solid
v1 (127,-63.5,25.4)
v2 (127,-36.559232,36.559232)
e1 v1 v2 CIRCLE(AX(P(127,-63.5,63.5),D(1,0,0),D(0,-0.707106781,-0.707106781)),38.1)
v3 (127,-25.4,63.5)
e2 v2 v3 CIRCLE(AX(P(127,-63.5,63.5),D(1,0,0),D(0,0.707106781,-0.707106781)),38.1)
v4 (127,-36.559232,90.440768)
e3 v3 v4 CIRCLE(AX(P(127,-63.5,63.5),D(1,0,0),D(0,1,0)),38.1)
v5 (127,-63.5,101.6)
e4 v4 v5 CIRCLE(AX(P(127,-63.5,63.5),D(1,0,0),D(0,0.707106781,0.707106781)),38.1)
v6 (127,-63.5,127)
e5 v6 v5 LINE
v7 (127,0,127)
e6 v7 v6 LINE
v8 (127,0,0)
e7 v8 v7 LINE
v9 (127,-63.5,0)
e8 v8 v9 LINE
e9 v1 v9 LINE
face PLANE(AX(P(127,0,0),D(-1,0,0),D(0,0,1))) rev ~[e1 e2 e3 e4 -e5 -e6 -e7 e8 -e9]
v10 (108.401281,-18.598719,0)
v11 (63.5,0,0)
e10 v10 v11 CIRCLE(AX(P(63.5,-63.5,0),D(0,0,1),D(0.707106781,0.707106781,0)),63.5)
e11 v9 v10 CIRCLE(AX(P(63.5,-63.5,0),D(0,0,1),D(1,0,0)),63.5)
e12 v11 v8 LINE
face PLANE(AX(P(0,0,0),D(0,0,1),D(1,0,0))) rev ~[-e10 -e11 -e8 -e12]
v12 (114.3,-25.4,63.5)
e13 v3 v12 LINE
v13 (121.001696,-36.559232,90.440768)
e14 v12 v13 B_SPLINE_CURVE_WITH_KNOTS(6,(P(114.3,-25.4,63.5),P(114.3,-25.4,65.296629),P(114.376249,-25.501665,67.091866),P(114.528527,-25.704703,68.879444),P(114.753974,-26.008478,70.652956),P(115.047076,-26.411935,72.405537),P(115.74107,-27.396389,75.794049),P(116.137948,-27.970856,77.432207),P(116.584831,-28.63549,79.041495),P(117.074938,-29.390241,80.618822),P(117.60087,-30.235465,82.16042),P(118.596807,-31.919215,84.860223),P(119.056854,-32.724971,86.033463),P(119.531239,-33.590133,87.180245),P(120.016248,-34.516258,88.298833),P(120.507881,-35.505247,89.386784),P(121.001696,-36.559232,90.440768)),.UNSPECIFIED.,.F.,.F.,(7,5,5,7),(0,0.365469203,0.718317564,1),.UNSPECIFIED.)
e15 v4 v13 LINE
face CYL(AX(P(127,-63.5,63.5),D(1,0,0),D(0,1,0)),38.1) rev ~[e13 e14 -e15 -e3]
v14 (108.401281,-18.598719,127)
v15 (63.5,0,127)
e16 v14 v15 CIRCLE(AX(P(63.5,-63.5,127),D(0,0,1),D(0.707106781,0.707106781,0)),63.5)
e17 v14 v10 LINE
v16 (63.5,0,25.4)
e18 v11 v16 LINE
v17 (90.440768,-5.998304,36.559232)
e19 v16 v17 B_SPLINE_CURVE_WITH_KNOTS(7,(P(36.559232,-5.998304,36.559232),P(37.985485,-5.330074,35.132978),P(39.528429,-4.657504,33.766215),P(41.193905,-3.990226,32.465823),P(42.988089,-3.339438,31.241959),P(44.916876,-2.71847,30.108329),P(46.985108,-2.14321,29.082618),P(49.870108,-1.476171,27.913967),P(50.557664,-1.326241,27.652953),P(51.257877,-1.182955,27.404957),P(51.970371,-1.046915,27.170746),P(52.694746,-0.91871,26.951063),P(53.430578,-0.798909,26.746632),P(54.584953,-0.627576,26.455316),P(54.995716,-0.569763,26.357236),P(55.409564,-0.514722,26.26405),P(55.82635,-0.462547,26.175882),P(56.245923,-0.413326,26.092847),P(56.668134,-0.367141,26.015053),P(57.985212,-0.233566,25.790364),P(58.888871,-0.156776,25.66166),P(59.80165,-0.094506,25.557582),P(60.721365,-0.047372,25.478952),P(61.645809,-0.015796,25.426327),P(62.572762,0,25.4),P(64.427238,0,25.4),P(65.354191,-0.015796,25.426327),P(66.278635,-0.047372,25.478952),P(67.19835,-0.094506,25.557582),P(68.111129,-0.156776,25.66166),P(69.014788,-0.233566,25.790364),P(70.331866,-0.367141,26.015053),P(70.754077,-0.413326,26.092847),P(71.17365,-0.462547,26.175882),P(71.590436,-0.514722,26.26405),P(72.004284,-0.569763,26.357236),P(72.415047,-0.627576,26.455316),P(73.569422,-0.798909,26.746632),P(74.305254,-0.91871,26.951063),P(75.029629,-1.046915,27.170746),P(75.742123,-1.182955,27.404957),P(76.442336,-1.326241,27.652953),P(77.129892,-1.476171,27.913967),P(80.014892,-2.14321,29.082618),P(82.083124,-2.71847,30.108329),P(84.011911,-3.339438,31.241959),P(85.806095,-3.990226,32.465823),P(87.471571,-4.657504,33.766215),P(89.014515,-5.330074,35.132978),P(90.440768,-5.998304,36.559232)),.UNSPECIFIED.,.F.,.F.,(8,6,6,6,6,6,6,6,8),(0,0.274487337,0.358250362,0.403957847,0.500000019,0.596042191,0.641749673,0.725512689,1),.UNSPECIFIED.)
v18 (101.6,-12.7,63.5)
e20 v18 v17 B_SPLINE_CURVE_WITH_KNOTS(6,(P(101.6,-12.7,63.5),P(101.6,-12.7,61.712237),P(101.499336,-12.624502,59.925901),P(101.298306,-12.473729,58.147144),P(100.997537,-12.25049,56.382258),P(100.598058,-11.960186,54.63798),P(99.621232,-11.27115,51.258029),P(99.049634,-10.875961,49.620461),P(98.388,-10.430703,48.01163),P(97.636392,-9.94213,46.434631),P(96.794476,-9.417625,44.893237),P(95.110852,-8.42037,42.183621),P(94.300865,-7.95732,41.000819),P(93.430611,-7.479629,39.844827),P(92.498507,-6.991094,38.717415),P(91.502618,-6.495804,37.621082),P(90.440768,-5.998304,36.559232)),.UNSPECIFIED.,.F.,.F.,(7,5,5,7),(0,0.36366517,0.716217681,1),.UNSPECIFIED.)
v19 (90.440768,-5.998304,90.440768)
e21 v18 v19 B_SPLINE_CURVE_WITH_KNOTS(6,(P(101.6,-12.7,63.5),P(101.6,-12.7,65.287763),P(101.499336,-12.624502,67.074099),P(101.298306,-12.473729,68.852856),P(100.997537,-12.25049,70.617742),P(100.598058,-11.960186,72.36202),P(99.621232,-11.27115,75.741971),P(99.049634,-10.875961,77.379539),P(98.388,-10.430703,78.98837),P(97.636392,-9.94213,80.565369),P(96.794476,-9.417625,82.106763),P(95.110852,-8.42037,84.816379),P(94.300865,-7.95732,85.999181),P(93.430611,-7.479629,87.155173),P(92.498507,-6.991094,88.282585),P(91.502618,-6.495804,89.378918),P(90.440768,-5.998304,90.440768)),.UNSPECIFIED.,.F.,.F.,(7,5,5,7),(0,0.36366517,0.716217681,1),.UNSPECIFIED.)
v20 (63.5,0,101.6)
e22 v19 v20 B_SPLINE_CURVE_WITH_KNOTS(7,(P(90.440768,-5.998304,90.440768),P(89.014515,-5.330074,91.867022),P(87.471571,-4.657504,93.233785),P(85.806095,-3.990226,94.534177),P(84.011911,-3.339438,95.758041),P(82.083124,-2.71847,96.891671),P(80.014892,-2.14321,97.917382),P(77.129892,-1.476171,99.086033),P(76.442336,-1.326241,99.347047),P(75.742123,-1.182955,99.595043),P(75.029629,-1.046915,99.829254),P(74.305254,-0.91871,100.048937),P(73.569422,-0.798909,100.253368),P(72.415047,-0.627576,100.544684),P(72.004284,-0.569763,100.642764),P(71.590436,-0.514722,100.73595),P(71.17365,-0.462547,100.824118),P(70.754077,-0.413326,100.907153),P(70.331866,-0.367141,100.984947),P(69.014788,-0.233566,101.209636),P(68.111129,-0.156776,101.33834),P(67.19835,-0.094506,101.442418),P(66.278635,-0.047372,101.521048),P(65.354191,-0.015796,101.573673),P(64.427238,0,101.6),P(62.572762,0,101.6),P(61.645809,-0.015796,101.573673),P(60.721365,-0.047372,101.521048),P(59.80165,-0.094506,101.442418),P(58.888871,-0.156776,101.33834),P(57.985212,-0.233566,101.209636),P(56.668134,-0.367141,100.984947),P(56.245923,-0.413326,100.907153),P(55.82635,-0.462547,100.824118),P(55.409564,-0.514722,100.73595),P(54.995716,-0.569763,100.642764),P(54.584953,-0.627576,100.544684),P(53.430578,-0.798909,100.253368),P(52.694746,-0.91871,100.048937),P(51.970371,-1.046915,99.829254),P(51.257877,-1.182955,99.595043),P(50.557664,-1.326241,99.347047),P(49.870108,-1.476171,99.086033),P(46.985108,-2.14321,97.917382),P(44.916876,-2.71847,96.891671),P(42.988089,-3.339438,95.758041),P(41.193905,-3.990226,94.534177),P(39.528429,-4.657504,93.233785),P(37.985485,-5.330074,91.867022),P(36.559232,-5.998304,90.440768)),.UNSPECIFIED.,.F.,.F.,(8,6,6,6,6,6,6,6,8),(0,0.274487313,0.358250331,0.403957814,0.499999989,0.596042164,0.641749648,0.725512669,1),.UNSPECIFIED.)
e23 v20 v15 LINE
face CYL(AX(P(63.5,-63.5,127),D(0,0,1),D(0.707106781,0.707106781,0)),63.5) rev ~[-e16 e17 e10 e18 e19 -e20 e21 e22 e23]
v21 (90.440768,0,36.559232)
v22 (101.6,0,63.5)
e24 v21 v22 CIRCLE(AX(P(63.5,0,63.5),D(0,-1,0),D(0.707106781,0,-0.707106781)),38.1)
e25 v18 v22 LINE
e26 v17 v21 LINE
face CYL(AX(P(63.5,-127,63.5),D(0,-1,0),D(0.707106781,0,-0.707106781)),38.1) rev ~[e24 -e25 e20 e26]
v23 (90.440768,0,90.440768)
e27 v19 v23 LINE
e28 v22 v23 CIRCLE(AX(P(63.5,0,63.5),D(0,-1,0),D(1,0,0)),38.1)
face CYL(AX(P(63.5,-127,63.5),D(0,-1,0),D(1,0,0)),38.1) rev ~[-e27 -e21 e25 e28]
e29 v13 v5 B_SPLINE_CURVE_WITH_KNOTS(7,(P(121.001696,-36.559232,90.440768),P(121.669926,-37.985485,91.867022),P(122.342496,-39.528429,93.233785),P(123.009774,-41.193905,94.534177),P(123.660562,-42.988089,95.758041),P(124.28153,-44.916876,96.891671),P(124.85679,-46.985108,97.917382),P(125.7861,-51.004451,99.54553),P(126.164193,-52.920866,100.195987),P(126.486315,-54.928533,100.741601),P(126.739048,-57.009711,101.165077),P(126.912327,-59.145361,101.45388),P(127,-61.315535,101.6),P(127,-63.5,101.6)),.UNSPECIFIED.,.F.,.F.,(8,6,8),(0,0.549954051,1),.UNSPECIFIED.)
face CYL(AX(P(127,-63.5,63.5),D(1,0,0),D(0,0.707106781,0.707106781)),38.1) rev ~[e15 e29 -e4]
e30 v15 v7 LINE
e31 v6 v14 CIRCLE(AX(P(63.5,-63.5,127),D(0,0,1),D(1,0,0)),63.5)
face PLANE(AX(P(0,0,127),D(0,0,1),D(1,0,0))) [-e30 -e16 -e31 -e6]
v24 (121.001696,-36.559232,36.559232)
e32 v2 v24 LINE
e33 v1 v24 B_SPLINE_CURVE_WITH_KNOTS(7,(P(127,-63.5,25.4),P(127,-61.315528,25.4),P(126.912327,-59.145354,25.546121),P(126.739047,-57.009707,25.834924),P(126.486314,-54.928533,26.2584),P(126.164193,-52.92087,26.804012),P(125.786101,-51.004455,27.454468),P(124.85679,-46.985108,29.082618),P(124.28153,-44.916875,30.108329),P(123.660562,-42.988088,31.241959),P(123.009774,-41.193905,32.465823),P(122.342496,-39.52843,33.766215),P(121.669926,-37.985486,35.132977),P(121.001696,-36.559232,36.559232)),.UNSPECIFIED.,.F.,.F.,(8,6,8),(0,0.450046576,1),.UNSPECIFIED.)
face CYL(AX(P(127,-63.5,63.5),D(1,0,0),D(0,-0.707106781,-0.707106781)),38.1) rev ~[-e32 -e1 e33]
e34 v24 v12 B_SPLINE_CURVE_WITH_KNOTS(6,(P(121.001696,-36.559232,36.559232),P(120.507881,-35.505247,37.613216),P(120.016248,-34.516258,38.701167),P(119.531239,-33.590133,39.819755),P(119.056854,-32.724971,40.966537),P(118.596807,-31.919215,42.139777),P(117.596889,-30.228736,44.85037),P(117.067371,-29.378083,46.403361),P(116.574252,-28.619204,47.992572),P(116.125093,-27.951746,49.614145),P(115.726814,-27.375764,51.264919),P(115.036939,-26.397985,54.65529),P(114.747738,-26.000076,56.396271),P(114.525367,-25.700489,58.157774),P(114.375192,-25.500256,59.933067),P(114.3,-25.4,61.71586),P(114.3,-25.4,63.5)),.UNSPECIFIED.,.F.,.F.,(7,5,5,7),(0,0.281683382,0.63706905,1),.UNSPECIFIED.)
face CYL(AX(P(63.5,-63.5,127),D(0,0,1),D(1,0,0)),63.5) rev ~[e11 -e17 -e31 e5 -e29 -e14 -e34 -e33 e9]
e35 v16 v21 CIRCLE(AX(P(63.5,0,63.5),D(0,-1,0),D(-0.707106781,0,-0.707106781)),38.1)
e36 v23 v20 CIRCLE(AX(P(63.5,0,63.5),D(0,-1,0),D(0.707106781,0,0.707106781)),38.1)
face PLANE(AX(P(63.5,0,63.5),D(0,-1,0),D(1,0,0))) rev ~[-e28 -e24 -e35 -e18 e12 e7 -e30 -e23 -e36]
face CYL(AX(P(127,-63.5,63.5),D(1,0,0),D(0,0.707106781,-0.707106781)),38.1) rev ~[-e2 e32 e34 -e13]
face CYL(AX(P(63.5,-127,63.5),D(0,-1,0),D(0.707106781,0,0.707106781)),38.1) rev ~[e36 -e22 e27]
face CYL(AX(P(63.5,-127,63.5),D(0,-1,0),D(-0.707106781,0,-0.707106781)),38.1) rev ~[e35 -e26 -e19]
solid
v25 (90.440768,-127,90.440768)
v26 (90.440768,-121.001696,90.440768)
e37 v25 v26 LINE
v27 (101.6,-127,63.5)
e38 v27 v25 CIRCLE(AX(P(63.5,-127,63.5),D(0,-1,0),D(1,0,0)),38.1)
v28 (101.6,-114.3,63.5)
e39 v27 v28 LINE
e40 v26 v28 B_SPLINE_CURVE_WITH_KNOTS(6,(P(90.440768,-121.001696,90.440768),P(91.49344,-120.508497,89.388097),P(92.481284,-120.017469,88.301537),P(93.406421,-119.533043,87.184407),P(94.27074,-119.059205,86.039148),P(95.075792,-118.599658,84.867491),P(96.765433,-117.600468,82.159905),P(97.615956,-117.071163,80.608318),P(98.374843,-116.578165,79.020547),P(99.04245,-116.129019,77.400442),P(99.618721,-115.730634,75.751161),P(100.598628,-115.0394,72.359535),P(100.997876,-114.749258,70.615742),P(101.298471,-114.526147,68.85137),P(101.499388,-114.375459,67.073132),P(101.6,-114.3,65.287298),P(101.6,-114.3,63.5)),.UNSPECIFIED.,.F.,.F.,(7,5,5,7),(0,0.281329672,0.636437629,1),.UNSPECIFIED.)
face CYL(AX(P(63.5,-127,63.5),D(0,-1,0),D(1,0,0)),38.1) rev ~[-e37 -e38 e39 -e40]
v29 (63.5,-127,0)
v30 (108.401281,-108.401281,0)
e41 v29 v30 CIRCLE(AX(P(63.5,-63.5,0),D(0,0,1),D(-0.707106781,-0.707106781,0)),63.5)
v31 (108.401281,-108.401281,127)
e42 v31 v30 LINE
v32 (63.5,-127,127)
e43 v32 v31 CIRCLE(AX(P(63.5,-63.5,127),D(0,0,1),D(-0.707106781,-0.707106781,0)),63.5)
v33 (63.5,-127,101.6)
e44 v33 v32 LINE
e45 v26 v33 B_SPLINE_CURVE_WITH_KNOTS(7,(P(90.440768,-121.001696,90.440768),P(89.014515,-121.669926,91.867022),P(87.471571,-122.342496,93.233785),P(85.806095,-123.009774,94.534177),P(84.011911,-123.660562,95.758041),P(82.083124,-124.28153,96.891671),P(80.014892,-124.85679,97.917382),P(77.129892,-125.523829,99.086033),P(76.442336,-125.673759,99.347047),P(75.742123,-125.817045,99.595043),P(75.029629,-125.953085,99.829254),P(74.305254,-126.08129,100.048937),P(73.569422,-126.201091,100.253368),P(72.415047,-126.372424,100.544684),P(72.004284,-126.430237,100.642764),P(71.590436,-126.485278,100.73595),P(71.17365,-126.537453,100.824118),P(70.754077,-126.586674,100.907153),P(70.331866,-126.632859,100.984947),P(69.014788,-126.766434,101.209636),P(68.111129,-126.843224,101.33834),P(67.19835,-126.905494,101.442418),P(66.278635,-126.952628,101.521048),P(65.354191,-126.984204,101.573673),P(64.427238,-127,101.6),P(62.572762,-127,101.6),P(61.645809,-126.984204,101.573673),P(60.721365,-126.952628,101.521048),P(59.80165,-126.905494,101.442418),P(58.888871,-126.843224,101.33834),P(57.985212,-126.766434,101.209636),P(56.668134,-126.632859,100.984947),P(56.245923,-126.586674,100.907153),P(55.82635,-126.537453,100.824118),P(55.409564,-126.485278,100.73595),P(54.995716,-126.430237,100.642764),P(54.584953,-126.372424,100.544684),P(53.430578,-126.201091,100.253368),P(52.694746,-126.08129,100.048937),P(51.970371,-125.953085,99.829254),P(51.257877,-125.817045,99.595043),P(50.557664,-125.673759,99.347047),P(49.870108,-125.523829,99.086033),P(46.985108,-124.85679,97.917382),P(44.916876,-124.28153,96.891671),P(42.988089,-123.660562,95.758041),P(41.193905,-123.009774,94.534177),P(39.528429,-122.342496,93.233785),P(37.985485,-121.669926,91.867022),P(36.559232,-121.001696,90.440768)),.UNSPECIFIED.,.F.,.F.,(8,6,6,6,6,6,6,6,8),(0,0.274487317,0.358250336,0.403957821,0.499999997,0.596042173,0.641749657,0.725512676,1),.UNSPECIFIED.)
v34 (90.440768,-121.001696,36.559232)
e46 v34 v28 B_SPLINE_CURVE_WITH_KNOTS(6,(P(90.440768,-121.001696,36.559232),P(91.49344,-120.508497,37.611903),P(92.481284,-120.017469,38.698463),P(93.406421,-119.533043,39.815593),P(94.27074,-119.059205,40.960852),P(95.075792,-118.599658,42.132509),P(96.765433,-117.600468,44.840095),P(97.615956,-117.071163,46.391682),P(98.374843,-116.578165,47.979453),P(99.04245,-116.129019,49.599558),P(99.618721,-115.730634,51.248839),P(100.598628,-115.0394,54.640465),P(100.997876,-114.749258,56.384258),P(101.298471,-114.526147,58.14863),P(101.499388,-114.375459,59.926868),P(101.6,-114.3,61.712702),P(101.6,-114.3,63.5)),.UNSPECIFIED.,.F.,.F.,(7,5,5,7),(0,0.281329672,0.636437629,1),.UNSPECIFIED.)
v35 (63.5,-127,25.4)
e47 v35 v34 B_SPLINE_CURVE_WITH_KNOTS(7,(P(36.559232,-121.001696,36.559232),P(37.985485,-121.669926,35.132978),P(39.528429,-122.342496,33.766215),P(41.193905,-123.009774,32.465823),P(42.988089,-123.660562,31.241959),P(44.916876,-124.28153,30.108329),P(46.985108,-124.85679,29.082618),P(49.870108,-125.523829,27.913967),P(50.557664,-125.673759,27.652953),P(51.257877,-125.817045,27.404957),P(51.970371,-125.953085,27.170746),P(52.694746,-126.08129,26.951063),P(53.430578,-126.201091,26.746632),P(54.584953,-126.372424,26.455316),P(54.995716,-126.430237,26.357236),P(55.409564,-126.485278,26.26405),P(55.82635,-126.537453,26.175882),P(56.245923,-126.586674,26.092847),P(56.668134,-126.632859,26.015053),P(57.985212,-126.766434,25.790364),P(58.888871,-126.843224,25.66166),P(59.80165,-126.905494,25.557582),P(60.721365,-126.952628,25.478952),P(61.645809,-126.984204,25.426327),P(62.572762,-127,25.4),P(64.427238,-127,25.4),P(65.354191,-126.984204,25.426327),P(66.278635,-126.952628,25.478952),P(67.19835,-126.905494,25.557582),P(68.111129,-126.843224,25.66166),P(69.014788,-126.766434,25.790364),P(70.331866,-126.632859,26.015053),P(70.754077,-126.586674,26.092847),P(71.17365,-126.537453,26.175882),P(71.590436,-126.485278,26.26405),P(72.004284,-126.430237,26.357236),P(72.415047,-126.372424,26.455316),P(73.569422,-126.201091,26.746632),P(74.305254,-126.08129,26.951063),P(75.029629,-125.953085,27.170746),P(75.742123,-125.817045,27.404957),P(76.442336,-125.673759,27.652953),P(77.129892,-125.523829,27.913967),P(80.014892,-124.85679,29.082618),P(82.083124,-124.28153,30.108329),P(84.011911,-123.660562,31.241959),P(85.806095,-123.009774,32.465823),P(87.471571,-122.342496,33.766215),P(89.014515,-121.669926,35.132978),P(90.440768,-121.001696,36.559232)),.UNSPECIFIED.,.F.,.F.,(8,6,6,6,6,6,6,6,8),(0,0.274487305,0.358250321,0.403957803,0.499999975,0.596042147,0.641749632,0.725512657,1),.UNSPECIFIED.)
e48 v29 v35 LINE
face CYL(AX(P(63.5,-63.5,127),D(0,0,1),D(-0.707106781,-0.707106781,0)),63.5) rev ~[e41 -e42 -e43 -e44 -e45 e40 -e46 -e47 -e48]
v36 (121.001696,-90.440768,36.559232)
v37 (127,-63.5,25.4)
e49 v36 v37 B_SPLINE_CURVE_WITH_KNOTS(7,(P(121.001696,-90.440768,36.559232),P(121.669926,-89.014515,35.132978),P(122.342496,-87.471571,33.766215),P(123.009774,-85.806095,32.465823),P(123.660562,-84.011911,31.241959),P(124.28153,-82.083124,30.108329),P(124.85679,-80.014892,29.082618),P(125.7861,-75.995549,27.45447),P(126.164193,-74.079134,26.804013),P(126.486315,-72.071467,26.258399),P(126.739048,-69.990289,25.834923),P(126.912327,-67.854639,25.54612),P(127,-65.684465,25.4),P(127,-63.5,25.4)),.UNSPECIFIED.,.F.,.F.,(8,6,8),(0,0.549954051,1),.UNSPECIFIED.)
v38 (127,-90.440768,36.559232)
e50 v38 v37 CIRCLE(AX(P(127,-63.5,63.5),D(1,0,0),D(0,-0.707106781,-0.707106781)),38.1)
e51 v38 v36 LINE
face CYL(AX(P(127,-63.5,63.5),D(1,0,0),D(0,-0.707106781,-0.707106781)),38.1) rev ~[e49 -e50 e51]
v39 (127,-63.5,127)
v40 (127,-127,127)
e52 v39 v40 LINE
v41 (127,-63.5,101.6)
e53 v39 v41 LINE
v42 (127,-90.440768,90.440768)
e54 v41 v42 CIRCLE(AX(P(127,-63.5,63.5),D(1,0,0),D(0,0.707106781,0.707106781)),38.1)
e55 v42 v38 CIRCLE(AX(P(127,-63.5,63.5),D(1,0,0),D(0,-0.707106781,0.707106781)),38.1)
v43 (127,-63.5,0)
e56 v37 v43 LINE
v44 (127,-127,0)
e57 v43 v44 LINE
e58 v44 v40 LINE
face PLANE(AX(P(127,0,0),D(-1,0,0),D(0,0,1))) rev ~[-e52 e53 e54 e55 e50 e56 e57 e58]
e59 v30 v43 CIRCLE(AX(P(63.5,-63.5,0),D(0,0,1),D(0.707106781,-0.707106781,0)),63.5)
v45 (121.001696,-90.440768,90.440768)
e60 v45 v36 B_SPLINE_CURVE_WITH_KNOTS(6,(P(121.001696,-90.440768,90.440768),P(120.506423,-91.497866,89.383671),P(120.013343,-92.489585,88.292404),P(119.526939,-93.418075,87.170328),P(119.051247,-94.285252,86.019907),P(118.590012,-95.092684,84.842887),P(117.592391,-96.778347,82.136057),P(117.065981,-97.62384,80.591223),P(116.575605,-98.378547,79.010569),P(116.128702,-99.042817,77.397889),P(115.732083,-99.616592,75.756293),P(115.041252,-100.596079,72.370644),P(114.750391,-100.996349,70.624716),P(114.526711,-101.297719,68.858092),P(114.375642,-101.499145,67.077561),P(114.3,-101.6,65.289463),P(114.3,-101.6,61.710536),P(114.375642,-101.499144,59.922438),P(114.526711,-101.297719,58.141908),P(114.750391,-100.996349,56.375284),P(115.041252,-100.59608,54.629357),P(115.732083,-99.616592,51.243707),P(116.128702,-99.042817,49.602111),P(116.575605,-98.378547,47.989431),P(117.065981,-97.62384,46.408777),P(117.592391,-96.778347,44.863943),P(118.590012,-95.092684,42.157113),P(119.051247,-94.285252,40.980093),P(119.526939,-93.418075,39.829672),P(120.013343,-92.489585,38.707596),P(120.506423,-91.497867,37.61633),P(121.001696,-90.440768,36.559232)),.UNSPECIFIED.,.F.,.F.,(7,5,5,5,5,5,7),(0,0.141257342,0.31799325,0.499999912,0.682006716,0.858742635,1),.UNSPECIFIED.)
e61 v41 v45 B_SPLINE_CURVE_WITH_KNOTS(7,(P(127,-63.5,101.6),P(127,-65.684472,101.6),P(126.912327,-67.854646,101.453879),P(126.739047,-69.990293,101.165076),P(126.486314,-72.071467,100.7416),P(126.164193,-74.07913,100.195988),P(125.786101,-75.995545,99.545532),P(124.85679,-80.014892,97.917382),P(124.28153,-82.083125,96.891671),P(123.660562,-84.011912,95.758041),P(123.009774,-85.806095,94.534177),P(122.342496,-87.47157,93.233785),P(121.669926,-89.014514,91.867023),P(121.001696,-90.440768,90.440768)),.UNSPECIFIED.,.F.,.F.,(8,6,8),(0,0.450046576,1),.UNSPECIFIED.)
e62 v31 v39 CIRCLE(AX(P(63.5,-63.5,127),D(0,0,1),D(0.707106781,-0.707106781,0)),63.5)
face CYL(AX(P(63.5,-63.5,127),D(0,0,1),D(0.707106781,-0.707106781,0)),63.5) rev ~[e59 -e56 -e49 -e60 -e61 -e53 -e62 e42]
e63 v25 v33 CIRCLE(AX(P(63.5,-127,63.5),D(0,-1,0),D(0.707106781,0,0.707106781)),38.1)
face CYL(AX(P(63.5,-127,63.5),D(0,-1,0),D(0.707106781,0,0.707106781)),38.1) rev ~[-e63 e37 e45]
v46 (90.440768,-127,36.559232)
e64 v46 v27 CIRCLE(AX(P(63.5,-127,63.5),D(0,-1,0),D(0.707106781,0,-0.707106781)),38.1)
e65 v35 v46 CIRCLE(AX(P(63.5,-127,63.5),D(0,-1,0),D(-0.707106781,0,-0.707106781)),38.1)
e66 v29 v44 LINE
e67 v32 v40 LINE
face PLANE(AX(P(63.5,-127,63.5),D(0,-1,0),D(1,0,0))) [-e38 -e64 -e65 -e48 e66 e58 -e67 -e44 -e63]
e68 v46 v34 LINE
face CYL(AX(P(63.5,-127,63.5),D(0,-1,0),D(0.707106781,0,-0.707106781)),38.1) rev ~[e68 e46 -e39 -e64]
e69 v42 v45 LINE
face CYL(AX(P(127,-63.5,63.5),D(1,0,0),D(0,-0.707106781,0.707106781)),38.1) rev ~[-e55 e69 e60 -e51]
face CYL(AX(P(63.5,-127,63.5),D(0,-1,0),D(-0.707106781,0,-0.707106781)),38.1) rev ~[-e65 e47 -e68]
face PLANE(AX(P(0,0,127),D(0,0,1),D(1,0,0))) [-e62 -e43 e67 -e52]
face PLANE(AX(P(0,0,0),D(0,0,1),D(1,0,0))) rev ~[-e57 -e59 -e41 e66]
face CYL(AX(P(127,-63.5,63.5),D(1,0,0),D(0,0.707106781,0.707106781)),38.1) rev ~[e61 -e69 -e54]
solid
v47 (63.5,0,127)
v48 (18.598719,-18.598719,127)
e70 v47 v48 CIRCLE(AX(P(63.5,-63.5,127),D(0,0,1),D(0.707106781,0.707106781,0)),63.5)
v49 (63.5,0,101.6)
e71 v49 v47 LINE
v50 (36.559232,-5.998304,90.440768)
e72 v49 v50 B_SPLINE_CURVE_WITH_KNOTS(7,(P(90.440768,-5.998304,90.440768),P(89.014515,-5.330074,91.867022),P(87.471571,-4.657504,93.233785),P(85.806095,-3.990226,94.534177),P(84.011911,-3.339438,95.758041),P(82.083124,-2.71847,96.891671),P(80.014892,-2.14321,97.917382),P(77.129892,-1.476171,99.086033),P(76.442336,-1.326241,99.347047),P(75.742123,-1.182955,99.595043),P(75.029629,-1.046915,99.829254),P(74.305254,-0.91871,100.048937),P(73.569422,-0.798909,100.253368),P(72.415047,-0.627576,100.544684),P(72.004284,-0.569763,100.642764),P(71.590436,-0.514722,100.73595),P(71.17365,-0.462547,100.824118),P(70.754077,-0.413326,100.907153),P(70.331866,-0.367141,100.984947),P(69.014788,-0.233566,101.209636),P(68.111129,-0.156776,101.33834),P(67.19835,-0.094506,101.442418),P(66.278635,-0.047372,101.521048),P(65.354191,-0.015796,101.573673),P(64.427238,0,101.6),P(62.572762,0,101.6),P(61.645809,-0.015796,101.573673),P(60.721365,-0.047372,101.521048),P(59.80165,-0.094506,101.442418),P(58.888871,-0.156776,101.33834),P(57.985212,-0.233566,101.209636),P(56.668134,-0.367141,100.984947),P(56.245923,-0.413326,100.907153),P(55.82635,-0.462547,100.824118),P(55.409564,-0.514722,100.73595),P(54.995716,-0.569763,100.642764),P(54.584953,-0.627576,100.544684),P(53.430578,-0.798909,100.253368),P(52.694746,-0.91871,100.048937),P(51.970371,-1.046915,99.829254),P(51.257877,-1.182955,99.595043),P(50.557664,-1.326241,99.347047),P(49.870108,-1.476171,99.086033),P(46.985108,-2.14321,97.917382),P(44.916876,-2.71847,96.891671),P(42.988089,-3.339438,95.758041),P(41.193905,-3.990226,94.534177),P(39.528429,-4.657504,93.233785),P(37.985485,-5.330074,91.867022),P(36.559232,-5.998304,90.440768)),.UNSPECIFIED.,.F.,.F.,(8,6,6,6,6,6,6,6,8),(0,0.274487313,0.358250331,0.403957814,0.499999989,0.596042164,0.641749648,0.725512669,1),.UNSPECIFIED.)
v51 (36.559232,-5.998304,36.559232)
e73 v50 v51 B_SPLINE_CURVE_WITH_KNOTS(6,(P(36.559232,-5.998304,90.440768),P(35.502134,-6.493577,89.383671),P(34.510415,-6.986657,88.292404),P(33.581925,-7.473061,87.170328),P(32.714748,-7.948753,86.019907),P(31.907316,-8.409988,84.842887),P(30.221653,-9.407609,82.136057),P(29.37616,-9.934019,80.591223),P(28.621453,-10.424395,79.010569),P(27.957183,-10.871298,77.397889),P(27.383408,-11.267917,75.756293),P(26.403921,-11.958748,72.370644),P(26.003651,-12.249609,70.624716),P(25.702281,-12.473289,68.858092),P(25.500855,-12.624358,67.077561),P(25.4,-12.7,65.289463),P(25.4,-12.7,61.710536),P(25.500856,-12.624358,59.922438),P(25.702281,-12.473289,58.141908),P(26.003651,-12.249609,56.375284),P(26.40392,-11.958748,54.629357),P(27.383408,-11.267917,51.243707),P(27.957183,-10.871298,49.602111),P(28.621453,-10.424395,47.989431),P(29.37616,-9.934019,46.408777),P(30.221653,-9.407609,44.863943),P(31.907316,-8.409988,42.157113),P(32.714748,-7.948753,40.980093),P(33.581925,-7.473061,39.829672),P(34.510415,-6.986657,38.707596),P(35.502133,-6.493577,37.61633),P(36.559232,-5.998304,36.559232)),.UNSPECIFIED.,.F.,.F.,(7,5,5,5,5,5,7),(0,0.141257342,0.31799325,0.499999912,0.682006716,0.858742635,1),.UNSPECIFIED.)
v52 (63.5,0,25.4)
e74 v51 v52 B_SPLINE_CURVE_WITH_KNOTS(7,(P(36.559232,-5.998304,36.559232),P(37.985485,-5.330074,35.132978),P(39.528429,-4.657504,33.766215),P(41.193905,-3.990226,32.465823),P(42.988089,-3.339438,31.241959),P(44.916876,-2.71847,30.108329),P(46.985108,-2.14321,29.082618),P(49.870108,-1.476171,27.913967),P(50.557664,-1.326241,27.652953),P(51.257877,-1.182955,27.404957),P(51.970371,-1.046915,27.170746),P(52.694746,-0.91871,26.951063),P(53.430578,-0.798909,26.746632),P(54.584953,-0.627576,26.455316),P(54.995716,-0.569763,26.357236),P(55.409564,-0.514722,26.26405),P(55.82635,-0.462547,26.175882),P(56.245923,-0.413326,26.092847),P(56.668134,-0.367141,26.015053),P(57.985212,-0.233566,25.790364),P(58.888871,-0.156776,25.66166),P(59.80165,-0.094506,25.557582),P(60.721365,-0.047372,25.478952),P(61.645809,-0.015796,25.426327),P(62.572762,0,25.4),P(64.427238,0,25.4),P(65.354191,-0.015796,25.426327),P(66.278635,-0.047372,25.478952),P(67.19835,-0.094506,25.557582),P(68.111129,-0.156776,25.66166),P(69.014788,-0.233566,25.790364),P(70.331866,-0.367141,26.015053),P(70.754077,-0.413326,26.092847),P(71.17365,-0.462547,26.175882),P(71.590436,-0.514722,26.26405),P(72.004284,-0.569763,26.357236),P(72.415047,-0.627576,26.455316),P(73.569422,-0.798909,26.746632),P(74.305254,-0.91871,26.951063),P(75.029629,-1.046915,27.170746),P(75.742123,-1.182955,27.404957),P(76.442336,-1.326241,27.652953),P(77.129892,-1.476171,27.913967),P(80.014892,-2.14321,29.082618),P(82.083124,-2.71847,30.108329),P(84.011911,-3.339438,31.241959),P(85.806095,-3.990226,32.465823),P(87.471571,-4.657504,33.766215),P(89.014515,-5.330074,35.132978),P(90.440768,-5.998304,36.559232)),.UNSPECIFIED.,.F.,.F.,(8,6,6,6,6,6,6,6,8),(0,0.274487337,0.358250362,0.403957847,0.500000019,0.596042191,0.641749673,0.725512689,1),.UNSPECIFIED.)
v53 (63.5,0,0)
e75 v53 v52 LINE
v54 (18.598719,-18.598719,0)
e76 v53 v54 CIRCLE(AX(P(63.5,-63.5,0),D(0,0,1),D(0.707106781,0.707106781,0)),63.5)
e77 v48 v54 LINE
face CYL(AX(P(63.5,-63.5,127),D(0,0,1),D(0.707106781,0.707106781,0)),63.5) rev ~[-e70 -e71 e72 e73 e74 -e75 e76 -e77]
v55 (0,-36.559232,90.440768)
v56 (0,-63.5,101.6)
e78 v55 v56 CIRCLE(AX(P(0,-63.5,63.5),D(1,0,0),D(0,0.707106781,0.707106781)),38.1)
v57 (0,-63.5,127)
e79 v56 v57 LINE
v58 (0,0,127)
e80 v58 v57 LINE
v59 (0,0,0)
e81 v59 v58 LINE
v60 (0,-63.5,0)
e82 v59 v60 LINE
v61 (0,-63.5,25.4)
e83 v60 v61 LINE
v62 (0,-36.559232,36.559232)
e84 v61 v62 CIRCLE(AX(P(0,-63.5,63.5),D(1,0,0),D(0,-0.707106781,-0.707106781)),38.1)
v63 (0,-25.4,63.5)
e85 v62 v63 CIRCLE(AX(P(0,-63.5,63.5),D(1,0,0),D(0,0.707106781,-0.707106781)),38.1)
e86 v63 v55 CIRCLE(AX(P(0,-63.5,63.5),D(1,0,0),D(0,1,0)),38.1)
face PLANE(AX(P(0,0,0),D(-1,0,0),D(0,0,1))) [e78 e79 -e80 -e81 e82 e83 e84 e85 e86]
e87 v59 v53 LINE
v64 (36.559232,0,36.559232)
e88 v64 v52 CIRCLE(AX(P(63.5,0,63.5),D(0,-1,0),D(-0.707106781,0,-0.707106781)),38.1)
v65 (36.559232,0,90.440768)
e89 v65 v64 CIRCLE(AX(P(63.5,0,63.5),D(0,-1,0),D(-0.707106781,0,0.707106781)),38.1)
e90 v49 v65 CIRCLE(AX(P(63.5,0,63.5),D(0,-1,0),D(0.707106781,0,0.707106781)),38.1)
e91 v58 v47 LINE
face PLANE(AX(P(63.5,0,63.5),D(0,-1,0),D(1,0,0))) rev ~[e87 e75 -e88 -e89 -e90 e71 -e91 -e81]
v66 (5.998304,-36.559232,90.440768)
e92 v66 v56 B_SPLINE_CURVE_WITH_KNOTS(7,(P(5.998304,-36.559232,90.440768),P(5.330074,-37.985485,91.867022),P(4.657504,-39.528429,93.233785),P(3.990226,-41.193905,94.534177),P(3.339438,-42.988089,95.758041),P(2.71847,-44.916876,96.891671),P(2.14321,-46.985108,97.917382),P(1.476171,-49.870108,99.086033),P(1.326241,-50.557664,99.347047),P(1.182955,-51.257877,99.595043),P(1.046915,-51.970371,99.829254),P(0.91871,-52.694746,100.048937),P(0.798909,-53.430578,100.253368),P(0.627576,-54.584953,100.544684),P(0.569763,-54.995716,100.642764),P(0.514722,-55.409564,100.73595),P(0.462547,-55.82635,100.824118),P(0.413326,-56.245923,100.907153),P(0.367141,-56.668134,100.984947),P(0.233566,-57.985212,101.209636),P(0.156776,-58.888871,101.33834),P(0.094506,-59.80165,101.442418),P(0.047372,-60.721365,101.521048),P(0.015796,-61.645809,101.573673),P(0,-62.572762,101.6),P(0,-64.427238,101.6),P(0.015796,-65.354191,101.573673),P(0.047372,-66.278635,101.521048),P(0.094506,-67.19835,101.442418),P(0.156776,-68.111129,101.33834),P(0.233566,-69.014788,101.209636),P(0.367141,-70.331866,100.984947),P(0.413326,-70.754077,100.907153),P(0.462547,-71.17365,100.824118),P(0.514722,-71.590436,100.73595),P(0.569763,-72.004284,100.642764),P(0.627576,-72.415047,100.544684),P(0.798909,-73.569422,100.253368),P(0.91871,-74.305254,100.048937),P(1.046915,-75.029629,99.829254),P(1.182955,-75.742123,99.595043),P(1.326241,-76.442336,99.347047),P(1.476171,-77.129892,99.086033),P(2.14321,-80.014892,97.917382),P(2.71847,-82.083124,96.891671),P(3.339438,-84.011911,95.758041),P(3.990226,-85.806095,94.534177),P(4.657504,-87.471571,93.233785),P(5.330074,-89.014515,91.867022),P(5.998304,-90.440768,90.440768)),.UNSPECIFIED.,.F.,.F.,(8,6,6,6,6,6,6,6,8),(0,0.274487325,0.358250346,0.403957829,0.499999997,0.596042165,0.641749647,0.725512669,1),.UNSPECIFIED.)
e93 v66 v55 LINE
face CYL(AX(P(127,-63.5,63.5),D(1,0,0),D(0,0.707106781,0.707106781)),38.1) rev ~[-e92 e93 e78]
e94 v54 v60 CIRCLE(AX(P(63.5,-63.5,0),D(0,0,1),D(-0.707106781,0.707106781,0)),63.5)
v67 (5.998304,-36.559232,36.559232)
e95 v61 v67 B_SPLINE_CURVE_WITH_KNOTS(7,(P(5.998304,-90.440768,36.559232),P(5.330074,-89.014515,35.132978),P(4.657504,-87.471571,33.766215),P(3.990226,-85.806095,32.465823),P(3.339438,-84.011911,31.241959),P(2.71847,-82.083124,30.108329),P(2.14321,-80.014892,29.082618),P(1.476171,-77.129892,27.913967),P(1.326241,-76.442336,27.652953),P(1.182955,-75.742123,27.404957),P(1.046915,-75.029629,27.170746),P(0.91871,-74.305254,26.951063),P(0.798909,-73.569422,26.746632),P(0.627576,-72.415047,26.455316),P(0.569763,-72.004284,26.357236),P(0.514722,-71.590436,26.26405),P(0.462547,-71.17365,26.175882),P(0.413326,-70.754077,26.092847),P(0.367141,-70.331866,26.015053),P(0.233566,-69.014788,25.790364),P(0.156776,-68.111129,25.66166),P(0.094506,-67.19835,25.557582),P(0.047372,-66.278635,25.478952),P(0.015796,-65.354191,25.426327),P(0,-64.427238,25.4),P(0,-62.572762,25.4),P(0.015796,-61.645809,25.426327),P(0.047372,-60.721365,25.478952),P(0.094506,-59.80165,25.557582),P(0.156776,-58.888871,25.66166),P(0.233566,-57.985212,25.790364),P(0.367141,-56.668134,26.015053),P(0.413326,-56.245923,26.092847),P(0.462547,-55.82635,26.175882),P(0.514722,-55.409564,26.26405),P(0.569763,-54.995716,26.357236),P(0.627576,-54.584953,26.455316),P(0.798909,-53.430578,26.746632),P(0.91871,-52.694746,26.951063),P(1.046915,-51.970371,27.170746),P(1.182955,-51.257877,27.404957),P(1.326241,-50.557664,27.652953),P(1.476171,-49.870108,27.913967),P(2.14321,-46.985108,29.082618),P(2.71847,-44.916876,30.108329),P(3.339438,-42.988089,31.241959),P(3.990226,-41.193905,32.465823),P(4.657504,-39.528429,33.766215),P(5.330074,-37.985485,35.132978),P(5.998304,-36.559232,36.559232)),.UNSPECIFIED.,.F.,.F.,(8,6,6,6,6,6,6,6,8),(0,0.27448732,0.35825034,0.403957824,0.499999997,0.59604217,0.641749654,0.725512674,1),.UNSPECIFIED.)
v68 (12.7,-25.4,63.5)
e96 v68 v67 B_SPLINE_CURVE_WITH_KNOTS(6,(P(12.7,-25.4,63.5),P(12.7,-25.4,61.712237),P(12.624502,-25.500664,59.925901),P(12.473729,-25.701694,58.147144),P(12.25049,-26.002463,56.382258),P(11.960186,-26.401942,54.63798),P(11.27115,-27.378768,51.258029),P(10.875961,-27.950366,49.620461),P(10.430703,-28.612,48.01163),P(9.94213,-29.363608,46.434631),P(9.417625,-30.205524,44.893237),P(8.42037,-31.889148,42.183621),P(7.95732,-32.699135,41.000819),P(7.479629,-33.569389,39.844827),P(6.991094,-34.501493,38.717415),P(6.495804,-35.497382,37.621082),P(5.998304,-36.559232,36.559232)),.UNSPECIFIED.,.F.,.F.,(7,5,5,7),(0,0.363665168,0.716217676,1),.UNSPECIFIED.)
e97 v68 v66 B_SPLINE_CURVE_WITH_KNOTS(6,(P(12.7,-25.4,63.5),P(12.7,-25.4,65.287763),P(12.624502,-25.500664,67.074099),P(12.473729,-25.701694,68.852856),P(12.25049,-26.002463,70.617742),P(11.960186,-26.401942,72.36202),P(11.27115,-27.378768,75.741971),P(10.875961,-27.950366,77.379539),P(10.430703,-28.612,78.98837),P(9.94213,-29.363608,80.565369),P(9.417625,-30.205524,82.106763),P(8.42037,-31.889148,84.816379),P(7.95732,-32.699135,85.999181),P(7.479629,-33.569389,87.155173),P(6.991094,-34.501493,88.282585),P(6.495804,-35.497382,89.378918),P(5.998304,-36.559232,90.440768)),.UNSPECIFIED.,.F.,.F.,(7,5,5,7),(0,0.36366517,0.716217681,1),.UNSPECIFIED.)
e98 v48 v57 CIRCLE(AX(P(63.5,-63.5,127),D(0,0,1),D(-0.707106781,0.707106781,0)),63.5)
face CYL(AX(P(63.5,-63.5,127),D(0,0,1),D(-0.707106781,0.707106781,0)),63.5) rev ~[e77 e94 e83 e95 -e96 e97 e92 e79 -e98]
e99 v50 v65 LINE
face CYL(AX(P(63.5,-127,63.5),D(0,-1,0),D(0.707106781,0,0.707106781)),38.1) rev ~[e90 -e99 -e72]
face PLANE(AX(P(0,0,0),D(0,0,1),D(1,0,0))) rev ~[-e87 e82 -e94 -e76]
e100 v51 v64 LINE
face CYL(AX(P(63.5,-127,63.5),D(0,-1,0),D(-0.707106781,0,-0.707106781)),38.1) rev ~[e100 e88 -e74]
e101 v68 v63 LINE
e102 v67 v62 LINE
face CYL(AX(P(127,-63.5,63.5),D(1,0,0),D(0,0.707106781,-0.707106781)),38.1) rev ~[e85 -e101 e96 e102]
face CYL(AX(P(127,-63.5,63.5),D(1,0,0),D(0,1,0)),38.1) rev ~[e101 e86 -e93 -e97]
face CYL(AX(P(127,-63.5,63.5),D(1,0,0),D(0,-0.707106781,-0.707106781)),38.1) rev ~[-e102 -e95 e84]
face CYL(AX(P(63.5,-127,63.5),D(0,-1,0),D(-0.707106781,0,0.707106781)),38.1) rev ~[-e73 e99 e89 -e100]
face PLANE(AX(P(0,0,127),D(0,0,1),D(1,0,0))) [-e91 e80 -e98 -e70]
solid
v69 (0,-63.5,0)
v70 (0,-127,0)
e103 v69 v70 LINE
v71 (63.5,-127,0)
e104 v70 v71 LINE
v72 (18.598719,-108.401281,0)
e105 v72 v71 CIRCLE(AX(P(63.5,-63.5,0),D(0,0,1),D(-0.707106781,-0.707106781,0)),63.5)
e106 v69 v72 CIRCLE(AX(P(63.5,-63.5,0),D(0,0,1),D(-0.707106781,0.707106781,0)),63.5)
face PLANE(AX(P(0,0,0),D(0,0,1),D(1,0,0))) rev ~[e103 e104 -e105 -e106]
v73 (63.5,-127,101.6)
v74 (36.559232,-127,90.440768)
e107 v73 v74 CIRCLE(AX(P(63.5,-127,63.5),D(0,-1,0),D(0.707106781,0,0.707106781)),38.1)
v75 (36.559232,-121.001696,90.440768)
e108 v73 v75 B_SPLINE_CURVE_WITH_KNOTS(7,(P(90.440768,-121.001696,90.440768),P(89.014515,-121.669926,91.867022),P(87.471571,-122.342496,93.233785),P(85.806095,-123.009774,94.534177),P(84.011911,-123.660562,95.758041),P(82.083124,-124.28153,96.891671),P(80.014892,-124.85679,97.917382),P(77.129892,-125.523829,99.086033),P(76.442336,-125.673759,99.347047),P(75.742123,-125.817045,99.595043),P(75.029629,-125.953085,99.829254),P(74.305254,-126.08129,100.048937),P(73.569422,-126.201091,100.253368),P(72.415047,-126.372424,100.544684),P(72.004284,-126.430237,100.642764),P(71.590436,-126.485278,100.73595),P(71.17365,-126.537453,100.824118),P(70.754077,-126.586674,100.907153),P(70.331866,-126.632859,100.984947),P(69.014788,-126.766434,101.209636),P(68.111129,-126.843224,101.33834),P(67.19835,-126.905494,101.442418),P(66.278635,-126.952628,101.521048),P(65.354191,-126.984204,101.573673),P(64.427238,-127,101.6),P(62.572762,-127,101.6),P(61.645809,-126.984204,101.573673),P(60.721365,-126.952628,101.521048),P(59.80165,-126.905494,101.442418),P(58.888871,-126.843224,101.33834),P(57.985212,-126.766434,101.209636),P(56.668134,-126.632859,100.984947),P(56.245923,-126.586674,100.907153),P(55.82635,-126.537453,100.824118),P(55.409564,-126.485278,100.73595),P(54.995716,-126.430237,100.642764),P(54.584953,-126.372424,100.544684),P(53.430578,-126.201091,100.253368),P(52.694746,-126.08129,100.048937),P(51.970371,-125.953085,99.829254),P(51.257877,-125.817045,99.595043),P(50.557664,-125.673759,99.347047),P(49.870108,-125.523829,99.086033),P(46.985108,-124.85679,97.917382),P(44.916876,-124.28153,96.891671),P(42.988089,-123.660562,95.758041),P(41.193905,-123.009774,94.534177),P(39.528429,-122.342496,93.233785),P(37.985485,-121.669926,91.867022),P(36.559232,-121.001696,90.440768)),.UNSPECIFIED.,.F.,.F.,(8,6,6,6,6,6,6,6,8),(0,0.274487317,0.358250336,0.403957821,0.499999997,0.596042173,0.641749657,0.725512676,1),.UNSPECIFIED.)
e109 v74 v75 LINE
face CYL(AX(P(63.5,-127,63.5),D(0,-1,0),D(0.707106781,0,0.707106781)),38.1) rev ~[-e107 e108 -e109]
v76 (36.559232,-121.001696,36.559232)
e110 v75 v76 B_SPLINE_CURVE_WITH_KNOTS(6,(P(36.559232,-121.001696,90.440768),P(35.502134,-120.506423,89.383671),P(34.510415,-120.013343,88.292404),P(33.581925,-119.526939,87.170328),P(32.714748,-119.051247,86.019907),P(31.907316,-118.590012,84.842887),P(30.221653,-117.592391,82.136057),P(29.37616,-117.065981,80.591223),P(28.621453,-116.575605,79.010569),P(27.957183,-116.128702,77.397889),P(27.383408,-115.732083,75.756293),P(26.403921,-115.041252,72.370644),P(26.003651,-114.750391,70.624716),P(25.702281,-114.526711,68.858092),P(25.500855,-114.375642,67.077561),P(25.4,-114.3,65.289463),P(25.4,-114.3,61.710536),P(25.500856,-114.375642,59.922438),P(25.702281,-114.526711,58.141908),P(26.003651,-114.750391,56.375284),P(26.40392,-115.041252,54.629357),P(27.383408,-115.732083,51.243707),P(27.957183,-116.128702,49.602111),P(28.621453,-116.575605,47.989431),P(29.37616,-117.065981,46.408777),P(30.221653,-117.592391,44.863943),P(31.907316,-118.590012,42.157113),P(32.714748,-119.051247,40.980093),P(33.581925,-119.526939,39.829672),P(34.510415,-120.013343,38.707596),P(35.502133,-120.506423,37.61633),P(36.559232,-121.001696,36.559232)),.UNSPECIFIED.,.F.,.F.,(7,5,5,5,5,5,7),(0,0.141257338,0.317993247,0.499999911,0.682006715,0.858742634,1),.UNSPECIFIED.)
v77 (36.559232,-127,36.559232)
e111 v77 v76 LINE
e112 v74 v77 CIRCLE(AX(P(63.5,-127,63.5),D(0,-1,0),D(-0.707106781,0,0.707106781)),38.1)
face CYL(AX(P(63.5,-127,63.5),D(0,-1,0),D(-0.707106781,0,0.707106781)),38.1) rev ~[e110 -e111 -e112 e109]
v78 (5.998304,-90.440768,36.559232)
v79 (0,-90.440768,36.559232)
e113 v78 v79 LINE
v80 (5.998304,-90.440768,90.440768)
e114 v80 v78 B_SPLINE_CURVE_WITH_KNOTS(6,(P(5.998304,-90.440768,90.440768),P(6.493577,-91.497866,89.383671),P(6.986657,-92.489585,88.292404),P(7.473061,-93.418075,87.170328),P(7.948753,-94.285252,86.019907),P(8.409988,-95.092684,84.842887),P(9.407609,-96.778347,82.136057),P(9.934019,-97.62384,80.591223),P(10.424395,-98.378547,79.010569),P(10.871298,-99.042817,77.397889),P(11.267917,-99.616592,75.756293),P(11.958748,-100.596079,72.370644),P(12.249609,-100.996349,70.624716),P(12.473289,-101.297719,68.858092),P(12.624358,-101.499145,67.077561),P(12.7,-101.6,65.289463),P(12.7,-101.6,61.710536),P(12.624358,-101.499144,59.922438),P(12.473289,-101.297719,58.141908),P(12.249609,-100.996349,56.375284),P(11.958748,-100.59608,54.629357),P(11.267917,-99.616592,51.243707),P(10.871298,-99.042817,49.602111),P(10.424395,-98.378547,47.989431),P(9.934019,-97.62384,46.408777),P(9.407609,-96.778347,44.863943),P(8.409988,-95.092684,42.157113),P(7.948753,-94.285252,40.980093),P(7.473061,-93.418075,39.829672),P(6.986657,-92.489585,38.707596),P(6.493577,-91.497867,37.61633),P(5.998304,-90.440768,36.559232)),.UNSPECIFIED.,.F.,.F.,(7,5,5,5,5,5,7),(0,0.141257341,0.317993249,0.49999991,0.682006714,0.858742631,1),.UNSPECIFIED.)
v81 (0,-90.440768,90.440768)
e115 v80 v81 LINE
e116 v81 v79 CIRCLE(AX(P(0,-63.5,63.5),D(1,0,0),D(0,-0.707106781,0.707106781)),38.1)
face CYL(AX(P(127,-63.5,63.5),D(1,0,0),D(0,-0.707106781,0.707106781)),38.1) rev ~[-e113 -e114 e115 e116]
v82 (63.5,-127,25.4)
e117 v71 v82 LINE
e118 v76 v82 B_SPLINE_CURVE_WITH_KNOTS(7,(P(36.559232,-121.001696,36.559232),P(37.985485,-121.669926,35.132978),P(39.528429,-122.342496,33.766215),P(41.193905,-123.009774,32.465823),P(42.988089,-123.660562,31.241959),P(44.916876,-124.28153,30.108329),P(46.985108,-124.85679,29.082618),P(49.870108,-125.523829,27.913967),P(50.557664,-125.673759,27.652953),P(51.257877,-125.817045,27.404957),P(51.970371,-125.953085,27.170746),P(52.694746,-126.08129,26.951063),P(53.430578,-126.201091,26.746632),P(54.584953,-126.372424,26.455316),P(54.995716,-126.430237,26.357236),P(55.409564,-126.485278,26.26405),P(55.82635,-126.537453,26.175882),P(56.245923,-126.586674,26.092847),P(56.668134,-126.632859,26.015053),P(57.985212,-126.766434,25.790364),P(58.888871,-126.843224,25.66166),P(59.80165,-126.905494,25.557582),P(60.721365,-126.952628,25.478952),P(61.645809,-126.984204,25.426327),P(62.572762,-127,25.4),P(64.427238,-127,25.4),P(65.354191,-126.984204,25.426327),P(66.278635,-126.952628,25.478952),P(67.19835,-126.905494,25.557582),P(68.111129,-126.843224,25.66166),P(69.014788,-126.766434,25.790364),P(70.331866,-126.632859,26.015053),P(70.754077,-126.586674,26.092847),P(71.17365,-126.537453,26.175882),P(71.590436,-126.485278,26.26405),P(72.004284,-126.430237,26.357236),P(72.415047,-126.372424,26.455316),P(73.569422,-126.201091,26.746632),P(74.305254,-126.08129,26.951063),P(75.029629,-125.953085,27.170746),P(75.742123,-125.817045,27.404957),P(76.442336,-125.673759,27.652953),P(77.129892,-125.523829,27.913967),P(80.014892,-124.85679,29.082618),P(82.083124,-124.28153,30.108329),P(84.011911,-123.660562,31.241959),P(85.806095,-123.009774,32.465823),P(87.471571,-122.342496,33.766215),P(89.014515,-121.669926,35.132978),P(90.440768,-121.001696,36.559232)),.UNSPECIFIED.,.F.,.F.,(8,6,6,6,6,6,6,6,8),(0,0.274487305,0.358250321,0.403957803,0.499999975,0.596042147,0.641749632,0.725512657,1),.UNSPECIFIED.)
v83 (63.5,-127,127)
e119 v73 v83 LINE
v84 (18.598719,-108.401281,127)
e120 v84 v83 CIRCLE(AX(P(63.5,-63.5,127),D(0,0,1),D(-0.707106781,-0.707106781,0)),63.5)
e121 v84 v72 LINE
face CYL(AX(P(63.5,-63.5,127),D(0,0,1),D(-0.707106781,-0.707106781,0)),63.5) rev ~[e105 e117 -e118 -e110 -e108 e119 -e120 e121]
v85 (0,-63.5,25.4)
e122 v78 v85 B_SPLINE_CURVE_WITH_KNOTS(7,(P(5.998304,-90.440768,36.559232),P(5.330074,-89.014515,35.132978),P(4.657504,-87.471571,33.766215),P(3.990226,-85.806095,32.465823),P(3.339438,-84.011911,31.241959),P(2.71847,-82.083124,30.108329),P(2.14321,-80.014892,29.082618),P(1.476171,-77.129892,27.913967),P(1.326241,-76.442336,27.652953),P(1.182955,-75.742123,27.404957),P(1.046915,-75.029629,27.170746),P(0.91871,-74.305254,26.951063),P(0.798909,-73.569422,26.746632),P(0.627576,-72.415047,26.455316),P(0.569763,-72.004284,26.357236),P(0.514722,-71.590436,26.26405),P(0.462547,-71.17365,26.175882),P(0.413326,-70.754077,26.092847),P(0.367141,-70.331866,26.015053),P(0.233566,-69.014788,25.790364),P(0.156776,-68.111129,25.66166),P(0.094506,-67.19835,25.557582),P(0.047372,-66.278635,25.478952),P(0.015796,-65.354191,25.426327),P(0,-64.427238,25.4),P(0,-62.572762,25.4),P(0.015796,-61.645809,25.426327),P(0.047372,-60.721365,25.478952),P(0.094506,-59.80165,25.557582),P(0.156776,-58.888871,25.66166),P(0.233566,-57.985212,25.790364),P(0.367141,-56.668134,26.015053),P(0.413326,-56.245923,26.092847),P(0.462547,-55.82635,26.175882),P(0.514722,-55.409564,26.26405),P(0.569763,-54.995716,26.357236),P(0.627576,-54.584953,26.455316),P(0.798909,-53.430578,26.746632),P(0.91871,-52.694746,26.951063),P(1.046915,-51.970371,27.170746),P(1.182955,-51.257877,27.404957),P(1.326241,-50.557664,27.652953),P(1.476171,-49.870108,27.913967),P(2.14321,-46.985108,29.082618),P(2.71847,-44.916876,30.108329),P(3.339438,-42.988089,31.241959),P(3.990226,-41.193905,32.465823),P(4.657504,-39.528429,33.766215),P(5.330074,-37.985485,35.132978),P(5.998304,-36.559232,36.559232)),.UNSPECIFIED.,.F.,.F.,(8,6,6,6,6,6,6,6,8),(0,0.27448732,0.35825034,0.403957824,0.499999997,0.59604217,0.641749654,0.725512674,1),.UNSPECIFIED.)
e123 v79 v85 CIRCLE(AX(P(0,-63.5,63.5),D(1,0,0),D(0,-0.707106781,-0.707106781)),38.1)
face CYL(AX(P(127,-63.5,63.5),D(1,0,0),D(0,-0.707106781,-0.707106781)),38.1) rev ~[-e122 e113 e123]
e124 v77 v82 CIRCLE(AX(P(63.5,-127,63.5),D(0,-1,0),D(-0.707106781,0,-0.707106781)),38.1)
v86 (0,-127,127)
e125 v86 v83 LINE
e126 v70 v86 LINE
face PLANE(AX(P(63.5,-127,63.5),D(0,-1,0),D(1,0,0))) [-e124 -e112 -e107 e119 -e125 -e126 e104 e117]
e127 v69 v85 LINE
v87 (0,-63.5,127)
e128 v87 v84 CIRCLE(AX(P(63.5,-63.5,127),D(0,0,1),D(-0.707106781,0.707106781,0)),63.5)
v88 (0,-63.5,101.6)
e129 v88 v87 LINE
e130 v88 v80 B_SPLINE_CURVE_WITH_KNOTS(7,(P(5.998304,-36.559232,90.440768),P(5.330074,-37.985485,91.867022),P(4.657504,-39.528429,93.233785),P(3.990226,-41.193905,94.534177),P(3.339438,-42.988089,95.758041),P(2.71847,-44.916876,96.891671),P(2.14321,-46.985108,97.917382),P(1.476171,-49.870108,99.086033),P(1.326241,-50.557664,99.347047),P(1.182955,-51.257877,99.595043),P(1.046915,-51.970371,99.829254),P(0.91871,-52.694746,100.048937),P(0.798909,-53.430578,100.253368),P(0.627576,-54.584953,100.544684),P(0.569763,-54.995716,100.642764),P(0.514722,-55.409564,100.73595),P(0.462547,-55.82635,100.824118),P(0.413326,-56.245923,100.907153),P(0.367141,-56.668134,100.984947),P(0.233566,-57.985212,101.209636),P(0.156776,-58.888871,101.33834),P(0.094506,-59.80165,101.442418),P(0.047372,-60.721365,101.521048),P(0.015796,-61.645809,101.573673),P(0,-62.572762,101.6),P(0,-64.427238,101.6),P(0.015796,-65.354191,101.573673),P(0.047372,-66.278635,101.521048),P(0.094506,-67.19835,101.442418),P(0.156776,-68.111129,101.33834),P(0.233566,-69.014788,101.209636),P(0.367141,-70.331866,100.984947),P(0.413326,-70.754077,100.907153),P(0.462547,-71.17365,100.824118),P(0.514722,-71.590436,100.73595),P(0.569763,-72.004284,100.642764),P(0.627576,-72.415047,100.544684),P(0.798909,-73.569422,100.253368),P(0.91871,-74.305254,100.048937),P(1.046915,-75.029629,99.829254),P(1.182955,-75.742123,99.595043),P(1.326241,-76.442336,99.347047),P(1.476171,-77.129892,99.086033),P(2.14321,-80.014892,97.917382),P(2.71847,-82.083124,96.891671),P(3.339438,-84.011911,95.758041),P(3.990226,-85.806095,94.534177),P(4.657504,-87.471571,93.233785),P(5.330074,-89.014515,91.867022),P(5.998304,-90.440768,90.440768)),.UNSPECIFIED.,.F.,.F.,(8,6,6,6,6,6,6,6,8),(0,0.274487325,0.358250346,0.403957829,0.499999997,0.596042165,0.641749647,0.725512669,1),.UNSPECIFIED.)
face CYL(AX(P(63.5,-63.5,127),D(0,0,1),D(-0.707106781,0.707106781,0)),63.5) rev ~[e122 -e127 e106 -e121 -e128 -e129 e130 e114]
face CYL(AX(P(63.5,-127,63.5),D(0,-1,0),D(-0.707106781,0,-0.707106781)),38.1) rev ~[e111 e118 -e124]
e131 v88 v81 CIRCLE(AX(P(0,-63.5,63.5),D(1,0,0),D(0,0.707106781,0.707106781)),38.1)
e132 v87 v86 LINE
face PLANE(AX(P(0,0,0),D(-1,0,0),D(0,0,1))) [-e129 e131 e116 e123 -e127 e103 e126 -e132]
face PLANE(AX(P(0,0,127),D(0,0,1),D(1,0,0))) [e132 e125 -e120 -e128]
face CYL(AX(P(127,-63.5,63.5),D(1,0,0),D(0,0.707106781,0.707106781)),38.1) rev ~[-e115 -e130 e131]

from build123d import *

# Parameters (mm, degrees)
F0_W     = 127
F0_H     = 127
F1_DEPTH = 127
F5_DEPTH = 127
F6_DEPTH = 127
F7_DEPTH = 127


with BuildPart() as f1:
    # F0 (on Front) → F1 (new body)
    with BuildSketch(Plane.XZ):
        with Locations((63.5, 63.5)):
            Rectangle(F0_W, F0_H)
    extrude(amount=F1_DEPTH)

    # F3 (on face) → F5 (cut)
    with BuildSketch(Plane.YZ.offset(127)):
        with BuildLine():
            ThreePointArc((-90.4407683632, 90.4407683632), (-101.6, 63.5), (-90.4407683632, 36.5592316368))
            Line((-90.4407683632, 36.5592316368), (-63.5, 63.5))
            Line((-63.5, 63.5), (-90.4407683632, 90.4407683632))
        make_face()
        with BuildLine():
            Line((-63.5, 63.5), (-90.4407683632, 36.5592316368))
            ThreePointArc((-90.4407683632, 36.5592316368), (-63.5, 25.4), (-36.5592316368, 36.5592316368))
            Line((-36.5592316368, 36.5592316368), (-63.5, 63.5))
        make_face()
        with BuildLine():
            Line((-90.4407683632, 90.4407683632), (-63.5, 63.5))
            Line((-63.5, 63.5), (-36.5592316368, 90.4407683632))
            ThreePointArc((-36.5592316368, 90.4407683632), (-63.5, 101.6), (-90.4407683632, 90.4407683632))
        make_face()
        with BuildLine():
            Line((-36.5592316368, 90.4407683632), (-63.5, 63.5))
            Line((-63.5, 63.5), (-36.5592316368, 36.5592316368))
            ThreePointArc((-36.5592316368, 36.5592316368), (-28.3001898113, 48.9197612269), (-25.4, 63.5))
            ThreePointArc((-25.4, 63.5), (-28.3001898113, 78.0802387731), (-36.5592316368, 90.4407683632))
        make_face()
    extrude(amount=-F5_DEPTH, mode=Mode.SUBTRACT)

    # F2 (on face) → F6 (cut)
    with BuildSketch(Plane.XZ.offset(127)):
        with BuildLine():
            ThreePointArc((36.5592316368, 90.4407683632), (25.4, 63.5), (36.5592316368, 36.5592316368))
            Line((36.5592316368, 36.5592316368), (63.5, 63.5))
            Line((63.5, 63.5), (36.5592316368, 90.4407683632))
        make_face()
        with BuildLine():
            Line((63.5, 63.5), (36.5592316368, 36.5592316368))
            ThreePointArc((36.5592316368, 36.5592316368), (63.5, 25.4), (90.4407683632, 36.5592316368))
            Line((90.4407683632, 36.5592316368), (63.5, 63.5))
        make_face()
        with BuildLine():
            Line((36.5592316368, 90.4407683632), (63.5, 63.5))
            Line((63.5, 63.5), (90.4407683632, 90.4407683632))
            ThreePointArc((90.4407683632, 90.4407683632), (63.5, 101.6), (36.5592316368, 90.4407683632))
        make_face()
        with BuildLine():
            Line((90.4407683632, 90.4407683632), (63.5, 63.5))
            Line((63.5, 63.5), (90.4407683632, 36.5592316368))
            ThreePointArc((90.4407683632, 36.5592316368), (98.6998101887, 48.9197612269), (101.6, 63.5))
            ThreePointArc((101.6, 63.5), (98.6998101887, 78.0802387731), (90.4407683632, 90.4407683632))
        make_face()
    extrude(amount=-F6_DEPTH, mode=Mode.SUBTRACT)

    # F4 (on face) → F7 (cut)
    with BuildSketch(Plane.XY.offset(127)):
        with BuildLine():
            ThreePointArc((18.5987193947, -18.5987193947), (0, -63.5), (18.5987193947, -108.4012806053))
            Line((18.5987193947, -108.4012806053), (63.5, -63.5))
            Line((63.5, -63.5), (18.5987193947, -18.5987193947))
        make_face()
        with BuildLine():
            Line((63.5, -63.5), (18.5987193947, -108.4012806053))
            ThreePointArc((18.5987193947, -108.4012806053), (63.5, -127), (108.4012806053, -108.4012806053))
            Line((108.4012806053, -108.4012806053), (63.5, -63.5))
        make_face()
        with BuildLine():
            Line((18.5987193947, -18.5987193947), (63.5, -63.5))
            Line((63.5, -63.5), (108.4012806053, -18.5987193947))
            ThreePointArc((108.4012806053, -18.5987193947), (63.5, 0), (18.5987193947, -18.5987193947))
        make_face()
        with BuildLine():
            Line((108.4012806053, -18.5987193947), (63.5, -63.5))
            Line((63.5, -63.5), (108.4012806053, -108.4012806053))
            ThreePointArc((108.4012806053, -108.4012806053), (122.1663503145, -87.8003979552), (127, -63.5))
            ThreePointArc((127, -63.5), (122.1663503145, -39.1996020448), (108.4012806053, -18.5987193947))
        make_face()
    extrude(amount=-F7_DEPTH, mode=Mode.SUBTRACT)


solid = f1.part
